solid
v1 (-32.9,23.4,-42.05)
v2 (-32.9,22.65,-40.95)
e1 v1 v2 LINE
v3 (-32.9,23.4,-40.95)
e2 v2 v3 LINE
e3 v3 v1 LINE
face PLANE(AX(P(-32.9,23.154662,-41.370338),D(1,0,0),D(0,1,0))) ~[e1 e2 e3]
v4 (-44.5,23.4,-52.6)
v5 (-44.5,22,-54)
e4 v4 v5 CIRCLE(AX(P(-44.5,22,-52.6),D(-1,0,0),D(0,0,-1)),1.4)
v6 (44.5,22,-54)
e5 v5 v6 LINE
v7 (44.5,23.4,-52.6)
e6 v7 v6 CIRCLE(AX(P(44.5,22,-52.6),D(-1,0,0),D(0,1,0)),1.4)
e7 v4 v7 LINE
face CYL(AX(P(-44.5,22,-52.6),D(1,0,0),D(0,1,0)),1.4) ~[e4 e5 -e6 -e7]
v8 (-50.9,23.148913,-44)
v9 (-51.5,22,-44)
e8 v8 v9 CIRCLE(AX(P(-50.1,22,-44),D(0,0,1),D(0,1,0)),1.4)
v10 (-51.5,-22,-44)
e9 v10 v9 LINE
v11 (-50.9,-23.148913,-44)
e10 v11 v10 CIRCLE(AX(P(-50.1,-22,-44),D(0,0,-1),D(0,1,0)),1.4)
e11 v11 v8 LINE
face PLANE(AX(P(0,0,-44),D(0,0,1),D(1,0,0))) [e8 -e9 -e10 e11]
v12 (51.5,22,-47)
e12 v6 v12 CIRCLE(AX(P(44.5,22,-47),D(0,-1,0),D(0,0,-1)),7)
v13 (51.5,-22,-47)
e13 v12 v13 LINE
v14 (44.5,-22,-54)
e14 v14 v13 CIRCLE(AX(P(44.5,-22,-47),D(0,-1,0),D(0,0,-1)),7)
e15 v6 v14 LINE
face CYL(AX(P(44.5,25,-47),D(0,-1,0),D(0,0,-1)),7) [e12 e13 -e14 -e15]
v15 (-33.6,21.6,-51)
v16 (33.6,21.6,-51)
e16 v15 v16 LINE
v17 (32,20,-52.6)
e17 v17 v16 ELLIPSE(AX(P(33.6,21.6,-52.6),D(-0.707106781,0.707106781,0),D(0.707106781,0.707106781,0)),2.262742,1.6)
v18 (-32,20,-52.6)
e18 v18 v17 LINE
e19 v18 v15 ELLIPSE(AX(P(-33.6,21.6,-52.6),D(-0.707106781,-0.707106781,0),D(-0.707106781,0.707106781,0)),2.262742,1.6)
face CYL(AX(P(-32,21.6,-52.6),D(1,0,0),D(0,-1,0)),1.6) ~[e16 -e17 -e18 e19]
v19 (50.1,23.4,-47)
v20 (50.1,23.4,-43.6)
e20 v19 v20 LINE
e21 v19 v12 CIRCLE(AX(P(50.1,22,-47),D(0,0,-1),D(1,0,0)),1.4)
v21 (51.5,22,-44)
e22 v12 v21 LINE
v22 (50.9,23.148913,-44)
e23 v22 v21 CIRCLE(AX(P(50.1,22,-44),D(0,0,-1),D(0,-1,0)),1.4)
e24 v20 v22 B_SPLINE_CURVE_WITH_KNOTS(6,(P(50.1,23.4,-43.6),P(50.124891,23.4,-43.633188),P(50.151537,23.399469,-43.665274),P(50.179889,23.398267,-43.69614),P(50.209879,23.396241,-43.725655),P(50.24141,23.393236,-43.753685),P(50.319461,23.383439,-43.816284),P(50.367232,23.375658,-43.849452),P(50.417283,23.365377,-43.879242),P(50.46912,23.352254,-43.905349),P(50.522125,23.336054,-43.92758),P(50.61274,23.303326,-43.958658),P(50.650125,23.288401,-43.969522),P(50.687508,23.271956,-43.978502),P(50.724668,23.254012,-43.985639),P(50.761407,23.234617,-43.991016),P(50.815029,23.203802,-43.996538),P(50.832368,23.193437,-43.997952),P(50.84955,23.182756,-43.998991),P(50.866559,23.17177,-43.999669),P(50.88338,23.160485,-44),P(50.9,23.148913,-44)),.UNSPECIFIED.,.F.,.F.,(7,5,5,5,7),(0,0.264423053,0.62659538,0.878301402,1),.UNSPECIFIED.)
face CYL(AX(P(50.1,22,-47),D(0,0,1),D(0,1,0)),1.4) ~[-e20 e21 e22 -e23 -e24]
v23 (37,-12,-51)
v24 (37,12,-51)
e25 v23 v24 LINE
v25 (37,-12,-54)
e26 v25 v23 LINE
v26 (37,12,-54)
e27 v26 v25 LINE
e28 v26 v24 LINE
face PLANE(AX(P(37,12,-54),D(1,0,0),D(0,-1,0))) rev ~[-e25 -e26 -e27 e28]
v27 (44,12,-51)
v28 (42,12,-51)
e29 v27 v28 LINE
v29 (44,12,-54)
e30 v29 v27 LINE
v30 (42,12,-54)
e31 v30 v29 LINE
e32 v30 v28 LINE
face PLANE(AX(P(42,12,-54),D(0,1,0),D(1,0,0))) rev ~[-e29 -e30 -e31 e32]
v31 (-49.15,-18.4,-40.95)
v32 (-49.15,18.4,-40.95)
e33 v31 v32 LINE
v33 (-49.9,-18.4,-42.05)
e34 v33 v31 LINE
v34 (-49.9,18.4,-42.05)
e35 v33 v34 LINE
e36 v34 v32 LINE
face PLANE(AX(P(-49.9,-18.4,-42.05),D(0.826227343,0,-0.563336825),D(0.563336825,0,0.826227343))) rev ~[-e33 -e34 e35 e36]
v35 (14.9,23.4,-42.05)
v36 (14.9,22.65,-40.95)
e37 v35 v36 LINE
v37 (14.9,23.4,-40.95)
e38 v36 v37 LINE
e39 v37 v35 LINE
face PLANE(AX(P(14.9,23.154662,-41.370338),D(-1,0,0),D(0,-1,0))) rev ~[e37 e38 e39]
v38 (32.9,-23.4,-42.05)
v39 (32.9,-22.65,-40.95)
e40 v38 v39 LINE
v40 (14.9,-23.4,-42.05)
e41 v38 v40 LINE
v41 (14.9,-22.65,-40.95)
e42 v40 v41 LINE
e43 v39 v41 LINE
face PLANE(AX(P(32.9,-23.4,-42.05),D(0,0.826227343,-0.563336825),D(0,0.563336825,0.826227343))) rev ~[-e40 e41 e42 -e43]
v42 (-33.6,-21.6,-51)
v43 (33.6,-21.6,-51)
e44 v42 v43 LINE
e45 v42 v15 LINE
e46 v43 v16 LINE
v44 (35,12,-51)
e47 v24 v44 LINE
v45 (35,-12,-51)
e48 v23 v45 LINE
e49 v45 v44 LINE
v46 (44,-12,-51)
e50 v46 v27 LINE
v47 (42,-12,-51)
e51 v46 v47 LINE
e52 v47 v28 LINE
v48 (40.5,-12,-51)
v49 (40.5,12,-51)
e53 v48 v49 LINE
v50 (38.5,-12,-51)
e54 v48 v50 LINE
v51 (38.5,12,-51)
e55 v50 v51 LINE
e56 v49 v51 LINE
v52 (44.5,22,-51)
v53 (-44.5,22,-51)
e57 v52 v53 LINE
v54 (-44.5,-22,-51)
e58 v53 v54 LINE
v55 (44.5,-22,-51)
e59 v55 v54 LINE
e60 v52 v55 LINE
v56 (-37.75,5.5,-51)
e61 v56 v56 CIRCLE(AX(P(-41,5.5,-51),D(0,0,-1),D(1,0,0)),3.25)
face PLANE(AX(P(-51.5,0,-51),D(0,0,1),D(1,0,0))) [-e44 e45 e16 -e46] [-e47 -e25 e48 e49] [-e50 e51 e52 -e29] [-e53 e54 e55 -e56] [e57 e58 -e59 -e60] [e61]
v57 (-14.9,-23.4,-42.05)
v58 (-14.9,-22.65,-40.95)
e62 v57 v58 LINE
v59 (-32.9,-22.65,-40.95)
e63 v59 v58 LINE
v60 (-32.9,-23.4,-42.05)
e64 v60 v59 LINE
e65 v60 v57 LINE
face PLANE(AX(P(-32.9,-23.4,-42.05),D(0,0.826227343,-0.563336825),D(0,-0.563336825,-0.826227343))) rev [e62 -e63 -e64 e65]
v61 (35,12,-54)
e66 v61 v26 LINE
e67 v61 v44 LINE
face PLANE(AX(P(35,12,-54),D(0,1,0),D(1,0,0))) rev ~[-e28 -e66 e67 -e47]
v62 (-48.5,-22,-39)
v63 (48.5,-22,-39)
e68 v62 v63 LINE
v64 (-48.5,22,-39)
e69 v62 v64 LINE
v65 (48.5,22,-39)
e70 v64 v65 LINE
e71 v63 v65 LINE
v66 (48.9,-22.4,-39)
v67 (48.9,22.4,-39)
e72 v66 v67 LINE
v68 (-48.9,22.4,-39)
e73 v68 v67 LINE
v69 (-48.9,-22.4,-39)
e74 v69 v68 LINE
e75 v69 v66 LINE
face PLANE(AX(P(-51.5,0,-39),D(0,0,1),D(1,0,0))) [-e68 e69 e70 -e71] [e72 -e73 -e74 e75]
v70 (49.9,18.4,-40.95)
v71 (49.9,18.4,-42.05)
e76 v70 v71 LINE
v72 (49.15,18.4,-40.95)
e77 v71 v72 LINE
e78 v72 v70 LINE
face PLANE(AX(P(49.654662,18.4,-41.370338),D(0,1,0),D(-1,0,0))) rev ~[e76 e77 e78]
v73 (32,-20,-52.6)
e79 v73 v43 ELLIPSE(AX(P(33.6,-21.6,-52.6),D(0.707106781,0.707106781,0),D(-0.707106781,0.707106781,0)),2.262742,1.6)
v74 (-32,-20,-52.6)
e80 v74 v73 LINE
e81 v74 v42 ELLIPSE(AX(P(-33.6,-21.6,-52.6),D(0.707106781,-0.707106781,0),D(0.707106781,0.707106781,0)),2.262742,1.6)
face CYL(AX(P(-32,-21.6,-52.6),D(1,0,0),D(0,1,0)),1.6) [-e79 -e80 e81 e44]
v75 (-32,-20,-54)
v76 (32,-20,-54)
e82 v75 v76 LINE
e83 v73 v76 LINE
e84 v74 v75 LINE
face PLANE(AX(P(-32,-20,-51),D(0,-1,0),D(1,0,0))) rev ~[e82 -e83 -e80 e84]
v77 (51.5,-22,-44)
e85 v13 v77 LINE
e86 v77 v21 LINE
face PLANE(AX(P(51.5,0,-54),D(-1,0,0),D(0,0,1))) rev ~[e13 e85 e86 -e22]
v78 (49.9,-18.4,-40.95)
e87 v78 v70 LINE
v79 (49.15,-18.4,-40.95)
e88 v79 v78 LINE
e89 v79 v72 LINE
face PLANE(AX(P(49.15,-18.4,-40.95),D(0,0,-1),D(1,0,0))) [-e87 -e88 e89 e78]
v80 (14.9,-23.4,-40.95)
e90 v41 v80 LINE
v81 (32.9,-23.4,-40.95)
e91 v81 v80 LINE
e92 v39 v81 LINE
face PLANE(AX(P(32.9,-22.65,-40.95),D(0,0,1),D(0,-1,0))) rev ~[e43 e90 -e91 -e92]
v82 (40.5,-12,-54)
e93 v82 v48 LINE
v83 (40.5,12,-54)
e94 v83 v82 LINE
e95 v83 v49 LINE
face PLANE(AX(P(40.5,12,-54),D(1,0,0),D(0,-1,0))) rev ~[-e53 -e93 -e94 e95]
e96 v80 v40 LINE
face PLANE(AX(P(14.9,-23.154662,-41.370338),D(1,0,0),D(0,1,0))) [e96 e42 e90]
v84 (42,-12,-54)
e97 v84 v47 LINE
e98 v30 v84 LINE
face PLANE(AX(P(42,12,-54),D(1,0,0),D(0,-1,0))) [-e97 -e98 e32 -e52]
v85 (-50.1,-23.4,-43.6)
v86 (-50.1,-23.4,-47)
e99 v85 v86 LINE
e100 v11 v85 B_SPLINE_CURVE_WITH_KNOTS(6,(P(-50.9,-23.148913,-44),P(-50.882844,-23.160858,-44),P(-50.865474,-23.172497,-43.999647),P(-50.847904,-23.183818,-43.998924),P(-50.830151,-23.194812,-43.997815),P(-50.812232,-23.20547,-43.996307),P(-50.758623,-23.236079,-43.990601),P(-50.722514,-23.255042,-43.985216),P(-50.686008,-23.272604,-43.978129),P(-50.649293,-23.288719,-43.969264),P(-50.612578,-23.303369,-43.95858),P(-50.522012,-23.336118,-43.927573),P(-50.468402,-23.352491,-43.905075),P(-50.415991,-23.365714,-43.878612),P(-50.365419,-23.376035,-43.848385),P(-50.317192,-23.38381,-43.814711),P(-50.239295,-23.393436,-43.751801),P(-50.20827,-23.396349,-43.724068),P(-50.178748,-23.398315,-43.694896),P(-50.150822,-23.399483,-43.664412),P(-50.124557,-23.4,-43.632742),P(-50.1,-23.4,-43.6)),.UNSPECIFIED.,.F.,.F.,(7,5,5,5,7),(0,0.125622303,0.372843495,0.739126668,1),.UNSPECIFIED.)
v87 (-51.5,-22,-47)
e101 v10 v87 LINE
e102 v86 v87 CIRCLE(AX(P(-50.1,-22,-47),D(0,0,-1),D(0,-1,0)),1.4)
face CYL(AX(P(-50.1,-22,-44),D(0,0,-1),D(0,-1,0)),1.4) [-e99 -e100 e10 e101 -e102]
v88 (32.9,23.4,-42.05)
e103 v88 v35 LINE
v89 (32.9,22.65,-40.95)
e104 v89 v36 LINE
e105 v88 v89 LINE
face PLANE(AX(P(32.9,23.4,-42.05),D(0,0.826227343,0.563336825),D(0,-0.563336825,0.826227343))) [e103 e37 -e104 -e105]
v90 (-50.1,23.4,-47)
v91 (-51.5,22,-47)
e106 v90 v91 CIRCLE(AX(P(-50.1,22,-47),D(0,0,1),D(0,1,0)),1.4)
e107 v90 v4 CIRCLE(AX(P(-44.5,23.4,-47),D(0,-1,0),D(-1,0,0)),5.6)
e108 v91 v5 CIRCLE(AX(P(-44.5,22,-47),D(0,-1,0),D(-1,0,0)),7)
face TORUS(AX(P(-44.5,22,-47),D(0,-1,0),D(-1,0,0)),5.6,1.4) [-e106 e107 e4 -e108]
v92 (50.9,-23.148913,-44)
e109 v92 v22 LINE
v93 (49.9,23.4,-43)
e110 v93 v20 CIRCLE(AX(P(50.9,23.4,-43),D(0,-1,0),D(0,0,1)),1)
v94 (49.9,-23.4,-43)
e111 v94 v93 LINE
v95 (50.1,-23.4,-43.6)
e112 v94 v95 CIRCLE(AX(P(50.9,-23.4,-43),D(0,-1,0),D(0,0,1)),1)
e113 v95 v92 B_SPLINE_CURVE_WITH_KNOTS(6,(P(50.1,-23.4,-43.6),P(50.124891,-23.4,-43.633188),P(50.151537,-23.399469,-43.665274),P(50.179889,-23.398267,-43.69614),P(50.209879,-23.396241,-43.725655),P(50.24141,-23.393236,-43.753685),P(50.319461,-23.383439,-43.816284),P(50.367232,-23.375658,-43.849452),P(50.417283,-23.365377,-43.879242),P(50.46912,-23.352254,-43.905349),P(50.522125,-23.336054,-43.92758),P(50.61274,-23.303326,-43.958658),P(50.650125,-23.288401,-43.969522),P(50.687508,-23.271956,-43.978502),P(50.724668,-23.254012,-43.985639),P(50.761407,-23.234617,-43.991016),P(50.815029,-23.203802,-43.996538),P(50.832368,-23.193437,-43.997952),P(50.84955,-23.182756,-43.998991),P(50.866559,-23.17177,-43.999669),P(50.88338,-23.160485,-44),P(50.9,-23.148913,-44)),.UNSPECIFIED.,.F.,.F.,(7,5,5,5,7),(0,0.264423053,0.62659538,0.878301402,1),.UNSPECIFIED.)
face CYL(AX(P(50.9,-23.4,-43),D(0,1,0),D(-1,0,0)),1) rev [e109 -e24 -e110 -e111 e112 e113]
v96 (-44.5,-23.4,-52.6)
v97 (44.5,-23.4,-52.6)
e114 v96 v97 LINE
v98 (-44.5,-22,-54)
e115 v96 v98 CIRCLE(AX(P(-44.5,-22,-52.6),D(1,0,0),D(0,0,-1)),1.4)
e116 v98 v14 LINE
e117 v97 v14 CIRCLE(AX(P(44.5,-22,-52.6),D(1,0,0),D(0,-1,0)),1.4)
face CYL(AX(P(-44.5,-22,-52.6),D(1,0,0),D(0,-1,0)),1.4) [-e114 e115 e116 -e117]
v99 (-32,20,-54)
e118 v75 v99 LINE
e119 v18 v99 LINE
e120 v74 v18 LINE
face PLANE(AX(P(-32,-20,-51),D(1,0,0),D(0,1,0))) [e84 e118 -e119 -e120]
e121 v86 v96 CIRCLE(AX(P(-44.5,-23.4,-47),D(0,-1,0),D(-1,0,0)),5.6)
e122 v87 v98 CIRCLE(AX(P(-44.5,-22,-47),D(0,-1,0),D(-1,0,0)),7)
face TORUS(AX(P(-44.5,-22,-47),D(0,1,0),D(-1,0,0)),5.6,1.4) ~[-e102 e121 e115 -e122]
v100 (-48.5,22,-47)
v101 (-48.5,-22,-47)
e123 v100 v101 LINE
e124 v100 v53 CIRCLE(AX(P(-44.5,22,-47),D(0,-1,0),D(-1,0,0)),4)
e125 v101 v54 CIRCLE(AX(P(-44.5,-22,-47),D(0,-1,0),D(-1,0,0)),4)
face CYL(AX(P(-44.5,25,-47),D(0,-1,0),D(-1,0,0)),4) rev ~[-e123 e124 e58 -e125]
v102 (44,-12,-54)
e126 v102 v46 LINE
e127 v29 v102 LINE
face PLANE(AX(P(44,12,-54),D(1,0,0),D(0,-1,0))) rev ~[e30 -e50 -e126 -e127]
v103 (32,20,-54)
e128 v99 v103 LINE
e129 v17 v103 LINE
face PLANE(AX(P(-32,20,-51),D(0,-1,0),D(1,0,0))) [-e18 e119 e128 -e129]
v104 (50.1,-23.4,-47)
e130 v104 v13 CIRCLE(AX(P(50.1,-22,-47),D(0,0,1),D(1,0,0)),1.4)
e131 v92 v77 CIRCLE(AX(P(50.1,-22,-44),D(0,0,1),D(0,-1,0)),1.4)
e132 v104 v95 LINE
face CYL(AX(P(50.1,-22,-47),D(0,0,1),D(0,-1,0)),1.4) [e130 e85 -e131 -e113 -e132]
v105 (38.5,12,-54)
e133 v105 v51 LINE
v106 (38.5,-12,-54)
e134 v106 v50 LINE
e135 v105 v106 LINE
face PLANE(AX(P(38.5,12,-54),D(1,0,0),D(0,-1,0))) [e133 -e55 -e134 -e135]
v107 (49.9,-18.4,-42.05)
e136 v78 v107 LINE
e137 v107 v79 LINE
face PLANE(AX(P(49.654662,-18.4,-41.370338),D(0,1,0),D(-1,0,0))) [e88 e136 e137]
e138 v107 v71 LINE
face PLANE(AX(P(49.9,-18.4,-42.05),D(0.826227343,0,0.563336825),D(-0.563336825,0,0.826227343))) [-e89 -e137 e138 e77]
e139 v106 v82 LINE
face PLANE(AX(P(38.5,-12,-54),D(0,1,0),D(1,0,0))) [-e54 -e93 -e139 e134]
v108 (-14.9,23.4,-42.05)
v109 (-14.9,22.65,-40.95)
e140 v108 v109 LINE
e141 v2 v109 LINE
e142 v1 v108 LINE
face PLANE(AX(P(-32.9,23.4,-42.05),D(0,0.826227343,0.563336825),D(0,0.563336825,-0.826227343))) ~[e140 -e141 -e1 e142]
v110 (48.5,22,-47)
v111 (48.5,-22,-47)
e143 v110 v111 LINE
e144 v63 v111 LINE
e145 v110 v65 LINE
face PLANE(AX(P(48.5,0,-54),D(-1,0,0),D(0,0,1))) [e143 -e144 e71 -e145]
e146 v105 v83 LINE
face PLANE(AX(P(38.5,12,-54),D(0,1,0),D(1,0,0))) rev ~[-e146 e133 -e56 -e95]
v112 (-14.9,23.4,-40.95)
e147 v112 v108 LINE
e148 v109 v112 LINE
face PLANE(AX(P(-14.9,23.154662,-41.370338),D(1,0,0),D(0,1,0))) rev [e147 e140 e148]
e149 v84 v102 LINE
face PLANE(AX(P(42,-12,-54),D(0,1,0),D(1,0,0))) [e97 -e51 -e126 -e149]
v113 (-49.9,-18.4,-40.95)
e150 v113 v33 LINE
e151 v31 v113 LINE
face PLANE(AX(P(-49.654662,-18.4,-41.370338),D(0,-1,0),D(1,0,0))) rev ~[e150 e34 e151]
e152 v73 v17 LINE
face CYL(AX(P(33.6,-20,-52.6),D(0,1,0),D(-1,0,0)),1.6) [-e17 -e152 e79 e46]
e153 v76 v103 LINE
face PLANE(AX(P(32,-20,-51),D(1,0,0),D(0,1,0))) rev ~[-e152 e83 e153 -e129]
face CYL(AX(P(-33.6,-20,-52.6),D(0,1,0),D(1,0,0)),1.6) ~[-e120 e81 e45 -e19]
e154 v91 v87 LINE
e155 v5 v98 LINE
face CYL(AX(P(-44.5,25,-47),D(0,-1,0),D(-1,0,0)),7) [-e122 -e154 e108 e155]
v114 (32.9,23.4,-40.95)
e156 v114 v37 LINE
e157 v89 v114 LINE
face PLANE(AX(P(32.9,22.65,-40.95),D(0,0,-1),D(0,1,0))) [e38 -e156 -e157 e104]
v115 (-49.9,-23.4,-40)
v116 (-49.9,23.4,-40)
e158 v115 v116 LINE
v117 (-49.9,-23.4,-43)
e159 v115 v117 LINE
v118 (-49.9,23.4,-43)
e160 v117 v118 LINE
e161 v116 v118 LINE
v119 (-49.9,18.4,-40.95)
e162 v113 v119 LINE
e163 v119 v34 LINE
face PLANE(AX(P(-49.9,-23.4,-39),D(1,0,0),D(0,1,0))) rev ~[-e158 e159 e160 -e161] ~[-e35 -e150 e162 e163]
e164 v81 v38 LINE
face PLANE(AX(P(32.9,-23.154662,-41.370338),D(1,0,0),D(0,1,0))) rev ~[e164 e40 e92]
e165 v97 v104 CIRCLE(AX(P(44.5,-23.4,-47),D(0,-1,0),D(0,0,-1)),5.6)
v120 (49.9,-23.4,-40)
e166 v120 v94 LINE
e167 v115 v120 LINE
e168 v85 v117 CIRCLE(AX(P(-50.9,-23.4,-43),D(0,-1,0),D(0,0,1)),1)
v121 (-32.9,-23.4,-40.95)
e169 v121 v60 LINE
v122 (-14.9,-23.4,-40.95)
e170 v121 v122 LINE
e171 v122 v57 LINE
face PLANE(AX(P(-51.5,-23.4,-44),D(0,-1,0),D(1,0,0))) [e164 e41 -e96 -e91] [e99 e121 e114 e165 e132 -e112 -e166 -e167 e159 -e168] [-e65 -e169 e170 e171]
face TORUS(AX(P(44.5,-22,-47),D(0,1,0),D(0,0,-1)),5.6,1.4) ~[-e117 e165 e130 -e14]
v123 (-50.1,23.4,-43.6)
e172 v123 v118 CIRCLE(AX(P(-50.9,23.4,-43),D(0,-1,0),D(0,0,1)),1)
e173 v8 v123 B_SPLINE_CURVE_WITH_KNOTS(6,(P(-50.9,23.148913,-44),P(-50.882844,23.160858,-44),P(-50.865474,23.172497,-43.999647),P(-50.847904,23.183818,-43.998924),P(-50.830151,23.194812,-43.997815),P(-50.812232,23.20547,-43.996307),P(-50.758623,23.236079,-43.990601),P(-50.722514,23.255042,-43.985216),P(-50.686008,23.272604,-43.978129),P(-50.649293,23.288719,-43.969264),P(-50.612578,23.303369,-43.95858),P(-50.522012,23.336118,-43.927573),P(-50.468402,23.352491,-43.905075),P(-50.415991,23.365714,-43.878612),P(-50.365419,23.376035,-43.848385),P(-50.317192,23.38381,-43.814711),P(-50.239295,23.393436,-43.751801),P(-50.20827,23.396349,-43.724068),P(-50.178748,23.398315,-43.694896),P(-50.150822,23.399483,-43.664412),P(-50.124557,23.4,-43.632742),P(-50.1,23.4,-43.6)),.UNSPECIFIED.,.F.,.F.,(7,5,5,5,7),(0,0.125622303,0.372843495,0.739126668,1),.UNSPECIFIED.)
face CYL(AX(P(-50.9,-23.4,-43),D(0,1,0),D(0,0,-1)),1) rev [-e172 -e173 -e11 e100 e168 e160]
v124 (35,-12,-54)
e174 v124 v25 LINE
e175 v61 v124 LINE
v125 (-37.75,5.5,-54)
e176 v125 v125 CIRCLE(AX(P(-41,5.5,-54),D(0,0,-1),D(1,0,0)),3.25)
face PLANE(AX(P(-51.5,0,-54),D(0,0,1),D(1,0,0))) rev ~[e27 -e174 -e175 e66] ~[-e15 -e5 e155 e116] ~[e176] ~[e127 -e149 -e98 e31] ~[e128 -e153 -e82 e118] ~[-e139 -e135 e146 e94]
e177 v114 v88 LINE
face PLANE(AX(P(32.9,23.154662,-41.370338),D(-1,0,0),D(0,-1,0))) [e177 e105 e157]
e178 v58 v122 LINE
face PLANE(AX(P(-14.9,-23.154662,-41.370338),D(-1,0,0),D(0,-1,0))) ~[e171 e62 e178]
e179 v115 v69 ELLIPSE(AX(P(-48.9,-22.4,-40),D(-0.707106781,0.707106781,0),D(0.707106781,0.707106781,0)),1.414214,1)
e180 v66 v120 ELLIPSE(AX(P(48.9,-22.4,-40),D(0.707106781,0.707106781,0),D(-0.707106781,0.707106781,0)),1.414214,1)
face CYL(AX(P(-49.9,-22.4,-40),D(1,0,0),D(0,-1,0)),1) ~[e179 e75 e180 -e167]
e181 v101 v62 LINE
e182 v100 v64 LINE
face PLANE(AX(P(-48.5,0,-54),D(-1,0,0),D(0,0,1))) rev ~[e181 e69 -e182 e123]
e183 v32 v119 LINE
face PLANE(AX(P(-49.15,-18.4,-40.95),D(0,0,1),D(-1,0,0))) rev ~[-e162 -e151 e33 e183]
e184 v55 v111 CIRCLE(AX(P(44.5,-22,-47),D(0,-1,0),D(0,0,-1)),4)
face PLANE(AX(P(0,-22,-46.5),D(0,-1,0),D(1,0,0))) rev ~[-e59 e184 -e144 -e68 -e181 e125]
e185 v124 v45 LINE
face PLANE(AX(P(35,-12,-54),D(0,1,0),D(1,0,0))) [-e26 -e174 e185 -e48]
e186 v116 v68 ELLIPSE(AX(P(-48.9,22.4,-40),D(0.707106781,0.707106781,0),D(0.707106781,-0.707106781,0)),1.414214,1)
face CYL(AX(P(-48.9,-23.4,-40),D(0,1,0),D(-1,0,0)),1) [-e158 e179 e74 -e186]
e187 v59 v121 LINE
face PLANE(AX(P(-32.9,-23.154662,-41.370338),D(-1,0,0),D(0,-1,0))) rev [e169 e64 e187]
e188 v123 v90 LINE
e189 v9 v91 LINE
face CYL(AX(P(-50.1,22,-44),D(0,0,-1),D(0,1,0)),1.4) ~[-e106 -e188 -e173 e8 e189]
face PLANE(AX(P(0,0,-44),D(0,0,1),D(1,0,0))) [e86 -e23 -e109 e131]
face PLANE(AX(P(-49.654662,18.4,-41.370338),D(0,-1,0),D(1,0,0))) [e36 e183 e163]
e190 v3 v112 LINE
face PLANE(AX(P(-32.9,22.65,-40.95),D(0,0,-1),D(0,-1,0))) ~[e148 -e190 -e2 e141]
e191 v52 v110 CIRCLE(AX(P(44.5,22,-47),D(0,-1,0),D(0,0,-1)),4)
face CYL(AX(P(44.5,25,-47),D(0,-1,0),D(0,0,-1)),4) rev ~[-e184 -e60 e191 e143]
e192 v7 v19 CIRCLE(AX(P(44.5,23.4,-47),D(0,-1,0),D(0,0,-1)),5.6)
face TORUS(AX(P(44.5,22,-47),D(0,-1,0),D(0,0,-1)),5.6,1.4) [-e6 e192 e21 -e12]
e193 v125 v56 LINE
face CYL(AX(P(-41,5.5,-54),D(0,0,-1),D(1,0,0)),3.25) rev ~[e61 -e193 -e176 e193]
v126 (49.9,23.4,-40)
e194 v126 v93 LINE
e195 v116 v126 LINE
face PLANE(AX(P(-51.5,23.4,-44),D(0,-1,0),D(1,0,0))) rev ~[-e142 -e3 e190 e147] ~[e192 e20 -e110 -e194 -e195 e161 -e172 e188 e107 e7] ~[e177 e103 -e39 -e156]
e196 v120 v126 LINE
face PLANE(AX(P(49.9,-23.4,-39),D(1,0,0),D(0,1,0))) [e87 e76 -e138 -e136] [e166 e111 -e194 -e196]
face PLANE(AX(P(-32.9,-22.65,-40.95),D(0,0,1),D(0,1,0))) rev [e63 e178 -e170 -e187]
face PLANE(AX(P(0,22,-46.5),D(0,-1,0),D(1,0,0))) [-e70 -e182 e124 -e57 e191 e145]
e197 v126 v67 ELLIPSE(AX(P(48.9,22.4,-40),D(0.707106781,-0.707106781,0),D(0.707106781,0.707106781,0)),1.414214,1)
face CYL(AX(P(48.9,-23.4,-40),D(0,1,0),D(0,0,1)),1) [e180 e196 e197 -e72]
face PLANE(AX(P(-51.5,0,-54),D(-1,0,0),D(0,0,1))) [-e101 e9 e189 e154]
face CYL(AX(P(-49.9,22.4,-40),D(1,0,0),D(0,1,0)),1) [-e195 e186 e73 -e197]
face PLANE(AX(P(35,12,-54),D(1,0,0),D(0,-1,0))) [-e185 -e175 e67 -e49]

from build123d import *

# Parameters (mm, degrees)
SKETCH010_W       = 103
SKETCH010_H       = 15
PAD005_DEPTH      = 25
PAD005_DEPTH_BACK = 25
FILLET004_R       = 7
THICKNESS001_T    = -3
SKETCH011_W       = 64
SKETCH011_H       = 40
POCKET002_DEPTH   = 3.001
SKETCH012_W       = 103
SKETCH012_H       = 50
SKETCH012_W_2     = 99.8
SKETCH012_H_2     = 46.8
POCKET003_DEPTH   = 5
SKETCH111_W       = 103
SKETCH111_H       = 1.6
POCKET046_DEPTH   = 10.001
FILLET005_R       = 1.4
FILLET042_R       = 1
SKETCH052_R       = 3.25
SKETCH052_W       = 2
SKETCH052_H       = 24
POCKET021_DEPTH   = 15.001
POCKET_START      = -5
POCKET_DEPTH      = 36.8
POCKET044_START   = -17
POCKET044_DEPTH   = 18
FILLET052_R       = 1.6


with BuildPart() as part:
    # Sketch010 → Pad005 (new body, two sides)
    with BuildSketch(Plane.XZ) as pad005_sk:
        Rectangle(SKETCH010_W, SKETCH010_H)
    extrude(amount=-PAD005_DEPTH)
    extrude(pad005_sk.sketch, amount=PAD005_DEPTH_BACK)

    # Fillet004
    fillet004_edges = [part.edges().sort_by_distance(p)[0] for p in [
        (-51.5, 0, -7.5),
        (51.5, 0, -7.5),
    ]]
    fillet(fillet004_edges, radius=FILLET004_R)

    # Thickness001
    thickness001_openings = [part.faces().sort_by_distance(p)[0] for p in [
        (0, 0, 7.5),
    ]]
    offset(amount=THICKNESS001_T, openings=thickness001_openings)

    # Sketch011 (on Face15 of Thickness001) → Pocket002 (cut, through all)
    with BuildSketch(Plane.XY.offset(-4.5)):
        Rectangle(SKETCH011_W, SKETCH011_H)
    extrude(amount=-POCKET002_DEPTH, mode=Mode.SUBTRACT)

    # Sketch012 (on Face4 of Pocket002) → Pocket003 (cut)
    with BuildSketch(Plane.XY.offset(7.5)):
        Rectangle(SKETCH012_W, SKETCH012_H)
        Rectangle(SKETCH012_W_2, SKETCH012_H_2, mode=Mode.SUBTRACT)
    extrude(amount=-POCKET003_DEPTH, mode=Mode.SUBTRACT)

    # Sketch111 (on Face5 of Pocket003) → Pocket046 (cut, through all)
    with BuildSketch(Plane.XY.offset(2.5)):
        with Locations((0, -24.2)):
            Rectangle(SKETCH111_W, SKETCH111_H)
        with Locations((0, 24.2)):
            Rectangle(SKETCH111_W, SKETCH111_H)
    extrude(amount=-POCKET046_DEPTH, mode=Mode.SUBTRACT)

    # Fillet005
    fillet005_edges = [part.edges().sort_by_distance(p)[0] for p in [
        (-51.5, 0, -0.5),
        (0, -23.4, -7.5),
        (-44.5, 0, -7.5),
        (0, 23.4, -7.5),
    ]]
    fillet(fillet005_edges, radius=FILLET005_R)

    # Fillet042
    fillet042_edges = [part.edges().sort_by_distance(p)[0] for p in [
        (0, 23.4, 7.5),
        (49.9, 0, 7.5),
        (-49.9, 0, 7.5),
        (-49.9, 0, 2.5),
        (49.9, 0, 2.5),
        (0, -23.4, 7.5),
    ]]
    fillet(fillet042_edges, radius=FILLET042_R)

    # Sketch052 (on Face20 of Fillet005) → Pocket021 (cut, through all)
    with BuildSketch(Plane(origin=(0, 0, -7.5), x_dir=(1, 0, 0), z_dir=(0, 0, -1))):
        with Locations((-41, -5.5)):
            Circle(SKETCH052_R)
        with Locations((36, 0)):
            Rectangle(SKETCH052_W, SKETCH052_H)
        with Locations((39.5, 0)):
            Rectangle(SKETCH052_W, SKETCH052_H)
        with Locations((43, 0)):
            Rectangle(SKETCH052_W, SKETCH052_H)
    extrude(amount=-POCKET021_DEPTH, mode=Mode.SUBTRACT)

    # Sketch013 (on Face10 of Pocket003) → Pocket (cut)
    with BuildSketch(Plane.XZ.offset(23.4).offset(POCKET_START)):
        Polygon((49.9, 5.55), (49.9, 4.45), (49.15, 5.55), align=None)
        Polygon((-49.15, 5.55), (-49.9, 5.55), (-49.9, 4.45), align=None)
    extrude(amount=-POCKET_DEPTH, mode=Mode.SUBTRACT)

    # Sketch014 (on Face8 of Fillet042) → Pocket044 (cut)
    with BuildSketch(Plane.YZ.offset(49.9).offset(POCKET044_START)):
        Polygon((23.4, 5.55), (23.4, 4.45), (22.65, 5.55), align=None)
        Polygon((-23.4, 5.55), (-23.4, 4.45), (-22.65, 5.55), align=None)
    pocket044 = extrude(amount=-POCKET044_DEPTH, mode=Mode.SUBTRACT)

    # Mirrored011: Pocket044 across YZ
    add(pocket044.mirror(Plane.YZ), mode=Mode.SUBTRACT)

    # Fillet052
    fillet052_edges = [part.edges().sort_by_distance(p)[0] for p in [
        (-32, 0, -4.5),
        (0, 20, -4.5),
        (32, 0, -4.5),
        (0, -20, -4.5),
    ]]
    fillet(fillet052_edges, radius=FILLET052_R)


with BuildPart() as part_1:
    # Body002 placement: moved
    add(part.part.moved(Location((0, 0, -46.5))))


solid = part_1.part
